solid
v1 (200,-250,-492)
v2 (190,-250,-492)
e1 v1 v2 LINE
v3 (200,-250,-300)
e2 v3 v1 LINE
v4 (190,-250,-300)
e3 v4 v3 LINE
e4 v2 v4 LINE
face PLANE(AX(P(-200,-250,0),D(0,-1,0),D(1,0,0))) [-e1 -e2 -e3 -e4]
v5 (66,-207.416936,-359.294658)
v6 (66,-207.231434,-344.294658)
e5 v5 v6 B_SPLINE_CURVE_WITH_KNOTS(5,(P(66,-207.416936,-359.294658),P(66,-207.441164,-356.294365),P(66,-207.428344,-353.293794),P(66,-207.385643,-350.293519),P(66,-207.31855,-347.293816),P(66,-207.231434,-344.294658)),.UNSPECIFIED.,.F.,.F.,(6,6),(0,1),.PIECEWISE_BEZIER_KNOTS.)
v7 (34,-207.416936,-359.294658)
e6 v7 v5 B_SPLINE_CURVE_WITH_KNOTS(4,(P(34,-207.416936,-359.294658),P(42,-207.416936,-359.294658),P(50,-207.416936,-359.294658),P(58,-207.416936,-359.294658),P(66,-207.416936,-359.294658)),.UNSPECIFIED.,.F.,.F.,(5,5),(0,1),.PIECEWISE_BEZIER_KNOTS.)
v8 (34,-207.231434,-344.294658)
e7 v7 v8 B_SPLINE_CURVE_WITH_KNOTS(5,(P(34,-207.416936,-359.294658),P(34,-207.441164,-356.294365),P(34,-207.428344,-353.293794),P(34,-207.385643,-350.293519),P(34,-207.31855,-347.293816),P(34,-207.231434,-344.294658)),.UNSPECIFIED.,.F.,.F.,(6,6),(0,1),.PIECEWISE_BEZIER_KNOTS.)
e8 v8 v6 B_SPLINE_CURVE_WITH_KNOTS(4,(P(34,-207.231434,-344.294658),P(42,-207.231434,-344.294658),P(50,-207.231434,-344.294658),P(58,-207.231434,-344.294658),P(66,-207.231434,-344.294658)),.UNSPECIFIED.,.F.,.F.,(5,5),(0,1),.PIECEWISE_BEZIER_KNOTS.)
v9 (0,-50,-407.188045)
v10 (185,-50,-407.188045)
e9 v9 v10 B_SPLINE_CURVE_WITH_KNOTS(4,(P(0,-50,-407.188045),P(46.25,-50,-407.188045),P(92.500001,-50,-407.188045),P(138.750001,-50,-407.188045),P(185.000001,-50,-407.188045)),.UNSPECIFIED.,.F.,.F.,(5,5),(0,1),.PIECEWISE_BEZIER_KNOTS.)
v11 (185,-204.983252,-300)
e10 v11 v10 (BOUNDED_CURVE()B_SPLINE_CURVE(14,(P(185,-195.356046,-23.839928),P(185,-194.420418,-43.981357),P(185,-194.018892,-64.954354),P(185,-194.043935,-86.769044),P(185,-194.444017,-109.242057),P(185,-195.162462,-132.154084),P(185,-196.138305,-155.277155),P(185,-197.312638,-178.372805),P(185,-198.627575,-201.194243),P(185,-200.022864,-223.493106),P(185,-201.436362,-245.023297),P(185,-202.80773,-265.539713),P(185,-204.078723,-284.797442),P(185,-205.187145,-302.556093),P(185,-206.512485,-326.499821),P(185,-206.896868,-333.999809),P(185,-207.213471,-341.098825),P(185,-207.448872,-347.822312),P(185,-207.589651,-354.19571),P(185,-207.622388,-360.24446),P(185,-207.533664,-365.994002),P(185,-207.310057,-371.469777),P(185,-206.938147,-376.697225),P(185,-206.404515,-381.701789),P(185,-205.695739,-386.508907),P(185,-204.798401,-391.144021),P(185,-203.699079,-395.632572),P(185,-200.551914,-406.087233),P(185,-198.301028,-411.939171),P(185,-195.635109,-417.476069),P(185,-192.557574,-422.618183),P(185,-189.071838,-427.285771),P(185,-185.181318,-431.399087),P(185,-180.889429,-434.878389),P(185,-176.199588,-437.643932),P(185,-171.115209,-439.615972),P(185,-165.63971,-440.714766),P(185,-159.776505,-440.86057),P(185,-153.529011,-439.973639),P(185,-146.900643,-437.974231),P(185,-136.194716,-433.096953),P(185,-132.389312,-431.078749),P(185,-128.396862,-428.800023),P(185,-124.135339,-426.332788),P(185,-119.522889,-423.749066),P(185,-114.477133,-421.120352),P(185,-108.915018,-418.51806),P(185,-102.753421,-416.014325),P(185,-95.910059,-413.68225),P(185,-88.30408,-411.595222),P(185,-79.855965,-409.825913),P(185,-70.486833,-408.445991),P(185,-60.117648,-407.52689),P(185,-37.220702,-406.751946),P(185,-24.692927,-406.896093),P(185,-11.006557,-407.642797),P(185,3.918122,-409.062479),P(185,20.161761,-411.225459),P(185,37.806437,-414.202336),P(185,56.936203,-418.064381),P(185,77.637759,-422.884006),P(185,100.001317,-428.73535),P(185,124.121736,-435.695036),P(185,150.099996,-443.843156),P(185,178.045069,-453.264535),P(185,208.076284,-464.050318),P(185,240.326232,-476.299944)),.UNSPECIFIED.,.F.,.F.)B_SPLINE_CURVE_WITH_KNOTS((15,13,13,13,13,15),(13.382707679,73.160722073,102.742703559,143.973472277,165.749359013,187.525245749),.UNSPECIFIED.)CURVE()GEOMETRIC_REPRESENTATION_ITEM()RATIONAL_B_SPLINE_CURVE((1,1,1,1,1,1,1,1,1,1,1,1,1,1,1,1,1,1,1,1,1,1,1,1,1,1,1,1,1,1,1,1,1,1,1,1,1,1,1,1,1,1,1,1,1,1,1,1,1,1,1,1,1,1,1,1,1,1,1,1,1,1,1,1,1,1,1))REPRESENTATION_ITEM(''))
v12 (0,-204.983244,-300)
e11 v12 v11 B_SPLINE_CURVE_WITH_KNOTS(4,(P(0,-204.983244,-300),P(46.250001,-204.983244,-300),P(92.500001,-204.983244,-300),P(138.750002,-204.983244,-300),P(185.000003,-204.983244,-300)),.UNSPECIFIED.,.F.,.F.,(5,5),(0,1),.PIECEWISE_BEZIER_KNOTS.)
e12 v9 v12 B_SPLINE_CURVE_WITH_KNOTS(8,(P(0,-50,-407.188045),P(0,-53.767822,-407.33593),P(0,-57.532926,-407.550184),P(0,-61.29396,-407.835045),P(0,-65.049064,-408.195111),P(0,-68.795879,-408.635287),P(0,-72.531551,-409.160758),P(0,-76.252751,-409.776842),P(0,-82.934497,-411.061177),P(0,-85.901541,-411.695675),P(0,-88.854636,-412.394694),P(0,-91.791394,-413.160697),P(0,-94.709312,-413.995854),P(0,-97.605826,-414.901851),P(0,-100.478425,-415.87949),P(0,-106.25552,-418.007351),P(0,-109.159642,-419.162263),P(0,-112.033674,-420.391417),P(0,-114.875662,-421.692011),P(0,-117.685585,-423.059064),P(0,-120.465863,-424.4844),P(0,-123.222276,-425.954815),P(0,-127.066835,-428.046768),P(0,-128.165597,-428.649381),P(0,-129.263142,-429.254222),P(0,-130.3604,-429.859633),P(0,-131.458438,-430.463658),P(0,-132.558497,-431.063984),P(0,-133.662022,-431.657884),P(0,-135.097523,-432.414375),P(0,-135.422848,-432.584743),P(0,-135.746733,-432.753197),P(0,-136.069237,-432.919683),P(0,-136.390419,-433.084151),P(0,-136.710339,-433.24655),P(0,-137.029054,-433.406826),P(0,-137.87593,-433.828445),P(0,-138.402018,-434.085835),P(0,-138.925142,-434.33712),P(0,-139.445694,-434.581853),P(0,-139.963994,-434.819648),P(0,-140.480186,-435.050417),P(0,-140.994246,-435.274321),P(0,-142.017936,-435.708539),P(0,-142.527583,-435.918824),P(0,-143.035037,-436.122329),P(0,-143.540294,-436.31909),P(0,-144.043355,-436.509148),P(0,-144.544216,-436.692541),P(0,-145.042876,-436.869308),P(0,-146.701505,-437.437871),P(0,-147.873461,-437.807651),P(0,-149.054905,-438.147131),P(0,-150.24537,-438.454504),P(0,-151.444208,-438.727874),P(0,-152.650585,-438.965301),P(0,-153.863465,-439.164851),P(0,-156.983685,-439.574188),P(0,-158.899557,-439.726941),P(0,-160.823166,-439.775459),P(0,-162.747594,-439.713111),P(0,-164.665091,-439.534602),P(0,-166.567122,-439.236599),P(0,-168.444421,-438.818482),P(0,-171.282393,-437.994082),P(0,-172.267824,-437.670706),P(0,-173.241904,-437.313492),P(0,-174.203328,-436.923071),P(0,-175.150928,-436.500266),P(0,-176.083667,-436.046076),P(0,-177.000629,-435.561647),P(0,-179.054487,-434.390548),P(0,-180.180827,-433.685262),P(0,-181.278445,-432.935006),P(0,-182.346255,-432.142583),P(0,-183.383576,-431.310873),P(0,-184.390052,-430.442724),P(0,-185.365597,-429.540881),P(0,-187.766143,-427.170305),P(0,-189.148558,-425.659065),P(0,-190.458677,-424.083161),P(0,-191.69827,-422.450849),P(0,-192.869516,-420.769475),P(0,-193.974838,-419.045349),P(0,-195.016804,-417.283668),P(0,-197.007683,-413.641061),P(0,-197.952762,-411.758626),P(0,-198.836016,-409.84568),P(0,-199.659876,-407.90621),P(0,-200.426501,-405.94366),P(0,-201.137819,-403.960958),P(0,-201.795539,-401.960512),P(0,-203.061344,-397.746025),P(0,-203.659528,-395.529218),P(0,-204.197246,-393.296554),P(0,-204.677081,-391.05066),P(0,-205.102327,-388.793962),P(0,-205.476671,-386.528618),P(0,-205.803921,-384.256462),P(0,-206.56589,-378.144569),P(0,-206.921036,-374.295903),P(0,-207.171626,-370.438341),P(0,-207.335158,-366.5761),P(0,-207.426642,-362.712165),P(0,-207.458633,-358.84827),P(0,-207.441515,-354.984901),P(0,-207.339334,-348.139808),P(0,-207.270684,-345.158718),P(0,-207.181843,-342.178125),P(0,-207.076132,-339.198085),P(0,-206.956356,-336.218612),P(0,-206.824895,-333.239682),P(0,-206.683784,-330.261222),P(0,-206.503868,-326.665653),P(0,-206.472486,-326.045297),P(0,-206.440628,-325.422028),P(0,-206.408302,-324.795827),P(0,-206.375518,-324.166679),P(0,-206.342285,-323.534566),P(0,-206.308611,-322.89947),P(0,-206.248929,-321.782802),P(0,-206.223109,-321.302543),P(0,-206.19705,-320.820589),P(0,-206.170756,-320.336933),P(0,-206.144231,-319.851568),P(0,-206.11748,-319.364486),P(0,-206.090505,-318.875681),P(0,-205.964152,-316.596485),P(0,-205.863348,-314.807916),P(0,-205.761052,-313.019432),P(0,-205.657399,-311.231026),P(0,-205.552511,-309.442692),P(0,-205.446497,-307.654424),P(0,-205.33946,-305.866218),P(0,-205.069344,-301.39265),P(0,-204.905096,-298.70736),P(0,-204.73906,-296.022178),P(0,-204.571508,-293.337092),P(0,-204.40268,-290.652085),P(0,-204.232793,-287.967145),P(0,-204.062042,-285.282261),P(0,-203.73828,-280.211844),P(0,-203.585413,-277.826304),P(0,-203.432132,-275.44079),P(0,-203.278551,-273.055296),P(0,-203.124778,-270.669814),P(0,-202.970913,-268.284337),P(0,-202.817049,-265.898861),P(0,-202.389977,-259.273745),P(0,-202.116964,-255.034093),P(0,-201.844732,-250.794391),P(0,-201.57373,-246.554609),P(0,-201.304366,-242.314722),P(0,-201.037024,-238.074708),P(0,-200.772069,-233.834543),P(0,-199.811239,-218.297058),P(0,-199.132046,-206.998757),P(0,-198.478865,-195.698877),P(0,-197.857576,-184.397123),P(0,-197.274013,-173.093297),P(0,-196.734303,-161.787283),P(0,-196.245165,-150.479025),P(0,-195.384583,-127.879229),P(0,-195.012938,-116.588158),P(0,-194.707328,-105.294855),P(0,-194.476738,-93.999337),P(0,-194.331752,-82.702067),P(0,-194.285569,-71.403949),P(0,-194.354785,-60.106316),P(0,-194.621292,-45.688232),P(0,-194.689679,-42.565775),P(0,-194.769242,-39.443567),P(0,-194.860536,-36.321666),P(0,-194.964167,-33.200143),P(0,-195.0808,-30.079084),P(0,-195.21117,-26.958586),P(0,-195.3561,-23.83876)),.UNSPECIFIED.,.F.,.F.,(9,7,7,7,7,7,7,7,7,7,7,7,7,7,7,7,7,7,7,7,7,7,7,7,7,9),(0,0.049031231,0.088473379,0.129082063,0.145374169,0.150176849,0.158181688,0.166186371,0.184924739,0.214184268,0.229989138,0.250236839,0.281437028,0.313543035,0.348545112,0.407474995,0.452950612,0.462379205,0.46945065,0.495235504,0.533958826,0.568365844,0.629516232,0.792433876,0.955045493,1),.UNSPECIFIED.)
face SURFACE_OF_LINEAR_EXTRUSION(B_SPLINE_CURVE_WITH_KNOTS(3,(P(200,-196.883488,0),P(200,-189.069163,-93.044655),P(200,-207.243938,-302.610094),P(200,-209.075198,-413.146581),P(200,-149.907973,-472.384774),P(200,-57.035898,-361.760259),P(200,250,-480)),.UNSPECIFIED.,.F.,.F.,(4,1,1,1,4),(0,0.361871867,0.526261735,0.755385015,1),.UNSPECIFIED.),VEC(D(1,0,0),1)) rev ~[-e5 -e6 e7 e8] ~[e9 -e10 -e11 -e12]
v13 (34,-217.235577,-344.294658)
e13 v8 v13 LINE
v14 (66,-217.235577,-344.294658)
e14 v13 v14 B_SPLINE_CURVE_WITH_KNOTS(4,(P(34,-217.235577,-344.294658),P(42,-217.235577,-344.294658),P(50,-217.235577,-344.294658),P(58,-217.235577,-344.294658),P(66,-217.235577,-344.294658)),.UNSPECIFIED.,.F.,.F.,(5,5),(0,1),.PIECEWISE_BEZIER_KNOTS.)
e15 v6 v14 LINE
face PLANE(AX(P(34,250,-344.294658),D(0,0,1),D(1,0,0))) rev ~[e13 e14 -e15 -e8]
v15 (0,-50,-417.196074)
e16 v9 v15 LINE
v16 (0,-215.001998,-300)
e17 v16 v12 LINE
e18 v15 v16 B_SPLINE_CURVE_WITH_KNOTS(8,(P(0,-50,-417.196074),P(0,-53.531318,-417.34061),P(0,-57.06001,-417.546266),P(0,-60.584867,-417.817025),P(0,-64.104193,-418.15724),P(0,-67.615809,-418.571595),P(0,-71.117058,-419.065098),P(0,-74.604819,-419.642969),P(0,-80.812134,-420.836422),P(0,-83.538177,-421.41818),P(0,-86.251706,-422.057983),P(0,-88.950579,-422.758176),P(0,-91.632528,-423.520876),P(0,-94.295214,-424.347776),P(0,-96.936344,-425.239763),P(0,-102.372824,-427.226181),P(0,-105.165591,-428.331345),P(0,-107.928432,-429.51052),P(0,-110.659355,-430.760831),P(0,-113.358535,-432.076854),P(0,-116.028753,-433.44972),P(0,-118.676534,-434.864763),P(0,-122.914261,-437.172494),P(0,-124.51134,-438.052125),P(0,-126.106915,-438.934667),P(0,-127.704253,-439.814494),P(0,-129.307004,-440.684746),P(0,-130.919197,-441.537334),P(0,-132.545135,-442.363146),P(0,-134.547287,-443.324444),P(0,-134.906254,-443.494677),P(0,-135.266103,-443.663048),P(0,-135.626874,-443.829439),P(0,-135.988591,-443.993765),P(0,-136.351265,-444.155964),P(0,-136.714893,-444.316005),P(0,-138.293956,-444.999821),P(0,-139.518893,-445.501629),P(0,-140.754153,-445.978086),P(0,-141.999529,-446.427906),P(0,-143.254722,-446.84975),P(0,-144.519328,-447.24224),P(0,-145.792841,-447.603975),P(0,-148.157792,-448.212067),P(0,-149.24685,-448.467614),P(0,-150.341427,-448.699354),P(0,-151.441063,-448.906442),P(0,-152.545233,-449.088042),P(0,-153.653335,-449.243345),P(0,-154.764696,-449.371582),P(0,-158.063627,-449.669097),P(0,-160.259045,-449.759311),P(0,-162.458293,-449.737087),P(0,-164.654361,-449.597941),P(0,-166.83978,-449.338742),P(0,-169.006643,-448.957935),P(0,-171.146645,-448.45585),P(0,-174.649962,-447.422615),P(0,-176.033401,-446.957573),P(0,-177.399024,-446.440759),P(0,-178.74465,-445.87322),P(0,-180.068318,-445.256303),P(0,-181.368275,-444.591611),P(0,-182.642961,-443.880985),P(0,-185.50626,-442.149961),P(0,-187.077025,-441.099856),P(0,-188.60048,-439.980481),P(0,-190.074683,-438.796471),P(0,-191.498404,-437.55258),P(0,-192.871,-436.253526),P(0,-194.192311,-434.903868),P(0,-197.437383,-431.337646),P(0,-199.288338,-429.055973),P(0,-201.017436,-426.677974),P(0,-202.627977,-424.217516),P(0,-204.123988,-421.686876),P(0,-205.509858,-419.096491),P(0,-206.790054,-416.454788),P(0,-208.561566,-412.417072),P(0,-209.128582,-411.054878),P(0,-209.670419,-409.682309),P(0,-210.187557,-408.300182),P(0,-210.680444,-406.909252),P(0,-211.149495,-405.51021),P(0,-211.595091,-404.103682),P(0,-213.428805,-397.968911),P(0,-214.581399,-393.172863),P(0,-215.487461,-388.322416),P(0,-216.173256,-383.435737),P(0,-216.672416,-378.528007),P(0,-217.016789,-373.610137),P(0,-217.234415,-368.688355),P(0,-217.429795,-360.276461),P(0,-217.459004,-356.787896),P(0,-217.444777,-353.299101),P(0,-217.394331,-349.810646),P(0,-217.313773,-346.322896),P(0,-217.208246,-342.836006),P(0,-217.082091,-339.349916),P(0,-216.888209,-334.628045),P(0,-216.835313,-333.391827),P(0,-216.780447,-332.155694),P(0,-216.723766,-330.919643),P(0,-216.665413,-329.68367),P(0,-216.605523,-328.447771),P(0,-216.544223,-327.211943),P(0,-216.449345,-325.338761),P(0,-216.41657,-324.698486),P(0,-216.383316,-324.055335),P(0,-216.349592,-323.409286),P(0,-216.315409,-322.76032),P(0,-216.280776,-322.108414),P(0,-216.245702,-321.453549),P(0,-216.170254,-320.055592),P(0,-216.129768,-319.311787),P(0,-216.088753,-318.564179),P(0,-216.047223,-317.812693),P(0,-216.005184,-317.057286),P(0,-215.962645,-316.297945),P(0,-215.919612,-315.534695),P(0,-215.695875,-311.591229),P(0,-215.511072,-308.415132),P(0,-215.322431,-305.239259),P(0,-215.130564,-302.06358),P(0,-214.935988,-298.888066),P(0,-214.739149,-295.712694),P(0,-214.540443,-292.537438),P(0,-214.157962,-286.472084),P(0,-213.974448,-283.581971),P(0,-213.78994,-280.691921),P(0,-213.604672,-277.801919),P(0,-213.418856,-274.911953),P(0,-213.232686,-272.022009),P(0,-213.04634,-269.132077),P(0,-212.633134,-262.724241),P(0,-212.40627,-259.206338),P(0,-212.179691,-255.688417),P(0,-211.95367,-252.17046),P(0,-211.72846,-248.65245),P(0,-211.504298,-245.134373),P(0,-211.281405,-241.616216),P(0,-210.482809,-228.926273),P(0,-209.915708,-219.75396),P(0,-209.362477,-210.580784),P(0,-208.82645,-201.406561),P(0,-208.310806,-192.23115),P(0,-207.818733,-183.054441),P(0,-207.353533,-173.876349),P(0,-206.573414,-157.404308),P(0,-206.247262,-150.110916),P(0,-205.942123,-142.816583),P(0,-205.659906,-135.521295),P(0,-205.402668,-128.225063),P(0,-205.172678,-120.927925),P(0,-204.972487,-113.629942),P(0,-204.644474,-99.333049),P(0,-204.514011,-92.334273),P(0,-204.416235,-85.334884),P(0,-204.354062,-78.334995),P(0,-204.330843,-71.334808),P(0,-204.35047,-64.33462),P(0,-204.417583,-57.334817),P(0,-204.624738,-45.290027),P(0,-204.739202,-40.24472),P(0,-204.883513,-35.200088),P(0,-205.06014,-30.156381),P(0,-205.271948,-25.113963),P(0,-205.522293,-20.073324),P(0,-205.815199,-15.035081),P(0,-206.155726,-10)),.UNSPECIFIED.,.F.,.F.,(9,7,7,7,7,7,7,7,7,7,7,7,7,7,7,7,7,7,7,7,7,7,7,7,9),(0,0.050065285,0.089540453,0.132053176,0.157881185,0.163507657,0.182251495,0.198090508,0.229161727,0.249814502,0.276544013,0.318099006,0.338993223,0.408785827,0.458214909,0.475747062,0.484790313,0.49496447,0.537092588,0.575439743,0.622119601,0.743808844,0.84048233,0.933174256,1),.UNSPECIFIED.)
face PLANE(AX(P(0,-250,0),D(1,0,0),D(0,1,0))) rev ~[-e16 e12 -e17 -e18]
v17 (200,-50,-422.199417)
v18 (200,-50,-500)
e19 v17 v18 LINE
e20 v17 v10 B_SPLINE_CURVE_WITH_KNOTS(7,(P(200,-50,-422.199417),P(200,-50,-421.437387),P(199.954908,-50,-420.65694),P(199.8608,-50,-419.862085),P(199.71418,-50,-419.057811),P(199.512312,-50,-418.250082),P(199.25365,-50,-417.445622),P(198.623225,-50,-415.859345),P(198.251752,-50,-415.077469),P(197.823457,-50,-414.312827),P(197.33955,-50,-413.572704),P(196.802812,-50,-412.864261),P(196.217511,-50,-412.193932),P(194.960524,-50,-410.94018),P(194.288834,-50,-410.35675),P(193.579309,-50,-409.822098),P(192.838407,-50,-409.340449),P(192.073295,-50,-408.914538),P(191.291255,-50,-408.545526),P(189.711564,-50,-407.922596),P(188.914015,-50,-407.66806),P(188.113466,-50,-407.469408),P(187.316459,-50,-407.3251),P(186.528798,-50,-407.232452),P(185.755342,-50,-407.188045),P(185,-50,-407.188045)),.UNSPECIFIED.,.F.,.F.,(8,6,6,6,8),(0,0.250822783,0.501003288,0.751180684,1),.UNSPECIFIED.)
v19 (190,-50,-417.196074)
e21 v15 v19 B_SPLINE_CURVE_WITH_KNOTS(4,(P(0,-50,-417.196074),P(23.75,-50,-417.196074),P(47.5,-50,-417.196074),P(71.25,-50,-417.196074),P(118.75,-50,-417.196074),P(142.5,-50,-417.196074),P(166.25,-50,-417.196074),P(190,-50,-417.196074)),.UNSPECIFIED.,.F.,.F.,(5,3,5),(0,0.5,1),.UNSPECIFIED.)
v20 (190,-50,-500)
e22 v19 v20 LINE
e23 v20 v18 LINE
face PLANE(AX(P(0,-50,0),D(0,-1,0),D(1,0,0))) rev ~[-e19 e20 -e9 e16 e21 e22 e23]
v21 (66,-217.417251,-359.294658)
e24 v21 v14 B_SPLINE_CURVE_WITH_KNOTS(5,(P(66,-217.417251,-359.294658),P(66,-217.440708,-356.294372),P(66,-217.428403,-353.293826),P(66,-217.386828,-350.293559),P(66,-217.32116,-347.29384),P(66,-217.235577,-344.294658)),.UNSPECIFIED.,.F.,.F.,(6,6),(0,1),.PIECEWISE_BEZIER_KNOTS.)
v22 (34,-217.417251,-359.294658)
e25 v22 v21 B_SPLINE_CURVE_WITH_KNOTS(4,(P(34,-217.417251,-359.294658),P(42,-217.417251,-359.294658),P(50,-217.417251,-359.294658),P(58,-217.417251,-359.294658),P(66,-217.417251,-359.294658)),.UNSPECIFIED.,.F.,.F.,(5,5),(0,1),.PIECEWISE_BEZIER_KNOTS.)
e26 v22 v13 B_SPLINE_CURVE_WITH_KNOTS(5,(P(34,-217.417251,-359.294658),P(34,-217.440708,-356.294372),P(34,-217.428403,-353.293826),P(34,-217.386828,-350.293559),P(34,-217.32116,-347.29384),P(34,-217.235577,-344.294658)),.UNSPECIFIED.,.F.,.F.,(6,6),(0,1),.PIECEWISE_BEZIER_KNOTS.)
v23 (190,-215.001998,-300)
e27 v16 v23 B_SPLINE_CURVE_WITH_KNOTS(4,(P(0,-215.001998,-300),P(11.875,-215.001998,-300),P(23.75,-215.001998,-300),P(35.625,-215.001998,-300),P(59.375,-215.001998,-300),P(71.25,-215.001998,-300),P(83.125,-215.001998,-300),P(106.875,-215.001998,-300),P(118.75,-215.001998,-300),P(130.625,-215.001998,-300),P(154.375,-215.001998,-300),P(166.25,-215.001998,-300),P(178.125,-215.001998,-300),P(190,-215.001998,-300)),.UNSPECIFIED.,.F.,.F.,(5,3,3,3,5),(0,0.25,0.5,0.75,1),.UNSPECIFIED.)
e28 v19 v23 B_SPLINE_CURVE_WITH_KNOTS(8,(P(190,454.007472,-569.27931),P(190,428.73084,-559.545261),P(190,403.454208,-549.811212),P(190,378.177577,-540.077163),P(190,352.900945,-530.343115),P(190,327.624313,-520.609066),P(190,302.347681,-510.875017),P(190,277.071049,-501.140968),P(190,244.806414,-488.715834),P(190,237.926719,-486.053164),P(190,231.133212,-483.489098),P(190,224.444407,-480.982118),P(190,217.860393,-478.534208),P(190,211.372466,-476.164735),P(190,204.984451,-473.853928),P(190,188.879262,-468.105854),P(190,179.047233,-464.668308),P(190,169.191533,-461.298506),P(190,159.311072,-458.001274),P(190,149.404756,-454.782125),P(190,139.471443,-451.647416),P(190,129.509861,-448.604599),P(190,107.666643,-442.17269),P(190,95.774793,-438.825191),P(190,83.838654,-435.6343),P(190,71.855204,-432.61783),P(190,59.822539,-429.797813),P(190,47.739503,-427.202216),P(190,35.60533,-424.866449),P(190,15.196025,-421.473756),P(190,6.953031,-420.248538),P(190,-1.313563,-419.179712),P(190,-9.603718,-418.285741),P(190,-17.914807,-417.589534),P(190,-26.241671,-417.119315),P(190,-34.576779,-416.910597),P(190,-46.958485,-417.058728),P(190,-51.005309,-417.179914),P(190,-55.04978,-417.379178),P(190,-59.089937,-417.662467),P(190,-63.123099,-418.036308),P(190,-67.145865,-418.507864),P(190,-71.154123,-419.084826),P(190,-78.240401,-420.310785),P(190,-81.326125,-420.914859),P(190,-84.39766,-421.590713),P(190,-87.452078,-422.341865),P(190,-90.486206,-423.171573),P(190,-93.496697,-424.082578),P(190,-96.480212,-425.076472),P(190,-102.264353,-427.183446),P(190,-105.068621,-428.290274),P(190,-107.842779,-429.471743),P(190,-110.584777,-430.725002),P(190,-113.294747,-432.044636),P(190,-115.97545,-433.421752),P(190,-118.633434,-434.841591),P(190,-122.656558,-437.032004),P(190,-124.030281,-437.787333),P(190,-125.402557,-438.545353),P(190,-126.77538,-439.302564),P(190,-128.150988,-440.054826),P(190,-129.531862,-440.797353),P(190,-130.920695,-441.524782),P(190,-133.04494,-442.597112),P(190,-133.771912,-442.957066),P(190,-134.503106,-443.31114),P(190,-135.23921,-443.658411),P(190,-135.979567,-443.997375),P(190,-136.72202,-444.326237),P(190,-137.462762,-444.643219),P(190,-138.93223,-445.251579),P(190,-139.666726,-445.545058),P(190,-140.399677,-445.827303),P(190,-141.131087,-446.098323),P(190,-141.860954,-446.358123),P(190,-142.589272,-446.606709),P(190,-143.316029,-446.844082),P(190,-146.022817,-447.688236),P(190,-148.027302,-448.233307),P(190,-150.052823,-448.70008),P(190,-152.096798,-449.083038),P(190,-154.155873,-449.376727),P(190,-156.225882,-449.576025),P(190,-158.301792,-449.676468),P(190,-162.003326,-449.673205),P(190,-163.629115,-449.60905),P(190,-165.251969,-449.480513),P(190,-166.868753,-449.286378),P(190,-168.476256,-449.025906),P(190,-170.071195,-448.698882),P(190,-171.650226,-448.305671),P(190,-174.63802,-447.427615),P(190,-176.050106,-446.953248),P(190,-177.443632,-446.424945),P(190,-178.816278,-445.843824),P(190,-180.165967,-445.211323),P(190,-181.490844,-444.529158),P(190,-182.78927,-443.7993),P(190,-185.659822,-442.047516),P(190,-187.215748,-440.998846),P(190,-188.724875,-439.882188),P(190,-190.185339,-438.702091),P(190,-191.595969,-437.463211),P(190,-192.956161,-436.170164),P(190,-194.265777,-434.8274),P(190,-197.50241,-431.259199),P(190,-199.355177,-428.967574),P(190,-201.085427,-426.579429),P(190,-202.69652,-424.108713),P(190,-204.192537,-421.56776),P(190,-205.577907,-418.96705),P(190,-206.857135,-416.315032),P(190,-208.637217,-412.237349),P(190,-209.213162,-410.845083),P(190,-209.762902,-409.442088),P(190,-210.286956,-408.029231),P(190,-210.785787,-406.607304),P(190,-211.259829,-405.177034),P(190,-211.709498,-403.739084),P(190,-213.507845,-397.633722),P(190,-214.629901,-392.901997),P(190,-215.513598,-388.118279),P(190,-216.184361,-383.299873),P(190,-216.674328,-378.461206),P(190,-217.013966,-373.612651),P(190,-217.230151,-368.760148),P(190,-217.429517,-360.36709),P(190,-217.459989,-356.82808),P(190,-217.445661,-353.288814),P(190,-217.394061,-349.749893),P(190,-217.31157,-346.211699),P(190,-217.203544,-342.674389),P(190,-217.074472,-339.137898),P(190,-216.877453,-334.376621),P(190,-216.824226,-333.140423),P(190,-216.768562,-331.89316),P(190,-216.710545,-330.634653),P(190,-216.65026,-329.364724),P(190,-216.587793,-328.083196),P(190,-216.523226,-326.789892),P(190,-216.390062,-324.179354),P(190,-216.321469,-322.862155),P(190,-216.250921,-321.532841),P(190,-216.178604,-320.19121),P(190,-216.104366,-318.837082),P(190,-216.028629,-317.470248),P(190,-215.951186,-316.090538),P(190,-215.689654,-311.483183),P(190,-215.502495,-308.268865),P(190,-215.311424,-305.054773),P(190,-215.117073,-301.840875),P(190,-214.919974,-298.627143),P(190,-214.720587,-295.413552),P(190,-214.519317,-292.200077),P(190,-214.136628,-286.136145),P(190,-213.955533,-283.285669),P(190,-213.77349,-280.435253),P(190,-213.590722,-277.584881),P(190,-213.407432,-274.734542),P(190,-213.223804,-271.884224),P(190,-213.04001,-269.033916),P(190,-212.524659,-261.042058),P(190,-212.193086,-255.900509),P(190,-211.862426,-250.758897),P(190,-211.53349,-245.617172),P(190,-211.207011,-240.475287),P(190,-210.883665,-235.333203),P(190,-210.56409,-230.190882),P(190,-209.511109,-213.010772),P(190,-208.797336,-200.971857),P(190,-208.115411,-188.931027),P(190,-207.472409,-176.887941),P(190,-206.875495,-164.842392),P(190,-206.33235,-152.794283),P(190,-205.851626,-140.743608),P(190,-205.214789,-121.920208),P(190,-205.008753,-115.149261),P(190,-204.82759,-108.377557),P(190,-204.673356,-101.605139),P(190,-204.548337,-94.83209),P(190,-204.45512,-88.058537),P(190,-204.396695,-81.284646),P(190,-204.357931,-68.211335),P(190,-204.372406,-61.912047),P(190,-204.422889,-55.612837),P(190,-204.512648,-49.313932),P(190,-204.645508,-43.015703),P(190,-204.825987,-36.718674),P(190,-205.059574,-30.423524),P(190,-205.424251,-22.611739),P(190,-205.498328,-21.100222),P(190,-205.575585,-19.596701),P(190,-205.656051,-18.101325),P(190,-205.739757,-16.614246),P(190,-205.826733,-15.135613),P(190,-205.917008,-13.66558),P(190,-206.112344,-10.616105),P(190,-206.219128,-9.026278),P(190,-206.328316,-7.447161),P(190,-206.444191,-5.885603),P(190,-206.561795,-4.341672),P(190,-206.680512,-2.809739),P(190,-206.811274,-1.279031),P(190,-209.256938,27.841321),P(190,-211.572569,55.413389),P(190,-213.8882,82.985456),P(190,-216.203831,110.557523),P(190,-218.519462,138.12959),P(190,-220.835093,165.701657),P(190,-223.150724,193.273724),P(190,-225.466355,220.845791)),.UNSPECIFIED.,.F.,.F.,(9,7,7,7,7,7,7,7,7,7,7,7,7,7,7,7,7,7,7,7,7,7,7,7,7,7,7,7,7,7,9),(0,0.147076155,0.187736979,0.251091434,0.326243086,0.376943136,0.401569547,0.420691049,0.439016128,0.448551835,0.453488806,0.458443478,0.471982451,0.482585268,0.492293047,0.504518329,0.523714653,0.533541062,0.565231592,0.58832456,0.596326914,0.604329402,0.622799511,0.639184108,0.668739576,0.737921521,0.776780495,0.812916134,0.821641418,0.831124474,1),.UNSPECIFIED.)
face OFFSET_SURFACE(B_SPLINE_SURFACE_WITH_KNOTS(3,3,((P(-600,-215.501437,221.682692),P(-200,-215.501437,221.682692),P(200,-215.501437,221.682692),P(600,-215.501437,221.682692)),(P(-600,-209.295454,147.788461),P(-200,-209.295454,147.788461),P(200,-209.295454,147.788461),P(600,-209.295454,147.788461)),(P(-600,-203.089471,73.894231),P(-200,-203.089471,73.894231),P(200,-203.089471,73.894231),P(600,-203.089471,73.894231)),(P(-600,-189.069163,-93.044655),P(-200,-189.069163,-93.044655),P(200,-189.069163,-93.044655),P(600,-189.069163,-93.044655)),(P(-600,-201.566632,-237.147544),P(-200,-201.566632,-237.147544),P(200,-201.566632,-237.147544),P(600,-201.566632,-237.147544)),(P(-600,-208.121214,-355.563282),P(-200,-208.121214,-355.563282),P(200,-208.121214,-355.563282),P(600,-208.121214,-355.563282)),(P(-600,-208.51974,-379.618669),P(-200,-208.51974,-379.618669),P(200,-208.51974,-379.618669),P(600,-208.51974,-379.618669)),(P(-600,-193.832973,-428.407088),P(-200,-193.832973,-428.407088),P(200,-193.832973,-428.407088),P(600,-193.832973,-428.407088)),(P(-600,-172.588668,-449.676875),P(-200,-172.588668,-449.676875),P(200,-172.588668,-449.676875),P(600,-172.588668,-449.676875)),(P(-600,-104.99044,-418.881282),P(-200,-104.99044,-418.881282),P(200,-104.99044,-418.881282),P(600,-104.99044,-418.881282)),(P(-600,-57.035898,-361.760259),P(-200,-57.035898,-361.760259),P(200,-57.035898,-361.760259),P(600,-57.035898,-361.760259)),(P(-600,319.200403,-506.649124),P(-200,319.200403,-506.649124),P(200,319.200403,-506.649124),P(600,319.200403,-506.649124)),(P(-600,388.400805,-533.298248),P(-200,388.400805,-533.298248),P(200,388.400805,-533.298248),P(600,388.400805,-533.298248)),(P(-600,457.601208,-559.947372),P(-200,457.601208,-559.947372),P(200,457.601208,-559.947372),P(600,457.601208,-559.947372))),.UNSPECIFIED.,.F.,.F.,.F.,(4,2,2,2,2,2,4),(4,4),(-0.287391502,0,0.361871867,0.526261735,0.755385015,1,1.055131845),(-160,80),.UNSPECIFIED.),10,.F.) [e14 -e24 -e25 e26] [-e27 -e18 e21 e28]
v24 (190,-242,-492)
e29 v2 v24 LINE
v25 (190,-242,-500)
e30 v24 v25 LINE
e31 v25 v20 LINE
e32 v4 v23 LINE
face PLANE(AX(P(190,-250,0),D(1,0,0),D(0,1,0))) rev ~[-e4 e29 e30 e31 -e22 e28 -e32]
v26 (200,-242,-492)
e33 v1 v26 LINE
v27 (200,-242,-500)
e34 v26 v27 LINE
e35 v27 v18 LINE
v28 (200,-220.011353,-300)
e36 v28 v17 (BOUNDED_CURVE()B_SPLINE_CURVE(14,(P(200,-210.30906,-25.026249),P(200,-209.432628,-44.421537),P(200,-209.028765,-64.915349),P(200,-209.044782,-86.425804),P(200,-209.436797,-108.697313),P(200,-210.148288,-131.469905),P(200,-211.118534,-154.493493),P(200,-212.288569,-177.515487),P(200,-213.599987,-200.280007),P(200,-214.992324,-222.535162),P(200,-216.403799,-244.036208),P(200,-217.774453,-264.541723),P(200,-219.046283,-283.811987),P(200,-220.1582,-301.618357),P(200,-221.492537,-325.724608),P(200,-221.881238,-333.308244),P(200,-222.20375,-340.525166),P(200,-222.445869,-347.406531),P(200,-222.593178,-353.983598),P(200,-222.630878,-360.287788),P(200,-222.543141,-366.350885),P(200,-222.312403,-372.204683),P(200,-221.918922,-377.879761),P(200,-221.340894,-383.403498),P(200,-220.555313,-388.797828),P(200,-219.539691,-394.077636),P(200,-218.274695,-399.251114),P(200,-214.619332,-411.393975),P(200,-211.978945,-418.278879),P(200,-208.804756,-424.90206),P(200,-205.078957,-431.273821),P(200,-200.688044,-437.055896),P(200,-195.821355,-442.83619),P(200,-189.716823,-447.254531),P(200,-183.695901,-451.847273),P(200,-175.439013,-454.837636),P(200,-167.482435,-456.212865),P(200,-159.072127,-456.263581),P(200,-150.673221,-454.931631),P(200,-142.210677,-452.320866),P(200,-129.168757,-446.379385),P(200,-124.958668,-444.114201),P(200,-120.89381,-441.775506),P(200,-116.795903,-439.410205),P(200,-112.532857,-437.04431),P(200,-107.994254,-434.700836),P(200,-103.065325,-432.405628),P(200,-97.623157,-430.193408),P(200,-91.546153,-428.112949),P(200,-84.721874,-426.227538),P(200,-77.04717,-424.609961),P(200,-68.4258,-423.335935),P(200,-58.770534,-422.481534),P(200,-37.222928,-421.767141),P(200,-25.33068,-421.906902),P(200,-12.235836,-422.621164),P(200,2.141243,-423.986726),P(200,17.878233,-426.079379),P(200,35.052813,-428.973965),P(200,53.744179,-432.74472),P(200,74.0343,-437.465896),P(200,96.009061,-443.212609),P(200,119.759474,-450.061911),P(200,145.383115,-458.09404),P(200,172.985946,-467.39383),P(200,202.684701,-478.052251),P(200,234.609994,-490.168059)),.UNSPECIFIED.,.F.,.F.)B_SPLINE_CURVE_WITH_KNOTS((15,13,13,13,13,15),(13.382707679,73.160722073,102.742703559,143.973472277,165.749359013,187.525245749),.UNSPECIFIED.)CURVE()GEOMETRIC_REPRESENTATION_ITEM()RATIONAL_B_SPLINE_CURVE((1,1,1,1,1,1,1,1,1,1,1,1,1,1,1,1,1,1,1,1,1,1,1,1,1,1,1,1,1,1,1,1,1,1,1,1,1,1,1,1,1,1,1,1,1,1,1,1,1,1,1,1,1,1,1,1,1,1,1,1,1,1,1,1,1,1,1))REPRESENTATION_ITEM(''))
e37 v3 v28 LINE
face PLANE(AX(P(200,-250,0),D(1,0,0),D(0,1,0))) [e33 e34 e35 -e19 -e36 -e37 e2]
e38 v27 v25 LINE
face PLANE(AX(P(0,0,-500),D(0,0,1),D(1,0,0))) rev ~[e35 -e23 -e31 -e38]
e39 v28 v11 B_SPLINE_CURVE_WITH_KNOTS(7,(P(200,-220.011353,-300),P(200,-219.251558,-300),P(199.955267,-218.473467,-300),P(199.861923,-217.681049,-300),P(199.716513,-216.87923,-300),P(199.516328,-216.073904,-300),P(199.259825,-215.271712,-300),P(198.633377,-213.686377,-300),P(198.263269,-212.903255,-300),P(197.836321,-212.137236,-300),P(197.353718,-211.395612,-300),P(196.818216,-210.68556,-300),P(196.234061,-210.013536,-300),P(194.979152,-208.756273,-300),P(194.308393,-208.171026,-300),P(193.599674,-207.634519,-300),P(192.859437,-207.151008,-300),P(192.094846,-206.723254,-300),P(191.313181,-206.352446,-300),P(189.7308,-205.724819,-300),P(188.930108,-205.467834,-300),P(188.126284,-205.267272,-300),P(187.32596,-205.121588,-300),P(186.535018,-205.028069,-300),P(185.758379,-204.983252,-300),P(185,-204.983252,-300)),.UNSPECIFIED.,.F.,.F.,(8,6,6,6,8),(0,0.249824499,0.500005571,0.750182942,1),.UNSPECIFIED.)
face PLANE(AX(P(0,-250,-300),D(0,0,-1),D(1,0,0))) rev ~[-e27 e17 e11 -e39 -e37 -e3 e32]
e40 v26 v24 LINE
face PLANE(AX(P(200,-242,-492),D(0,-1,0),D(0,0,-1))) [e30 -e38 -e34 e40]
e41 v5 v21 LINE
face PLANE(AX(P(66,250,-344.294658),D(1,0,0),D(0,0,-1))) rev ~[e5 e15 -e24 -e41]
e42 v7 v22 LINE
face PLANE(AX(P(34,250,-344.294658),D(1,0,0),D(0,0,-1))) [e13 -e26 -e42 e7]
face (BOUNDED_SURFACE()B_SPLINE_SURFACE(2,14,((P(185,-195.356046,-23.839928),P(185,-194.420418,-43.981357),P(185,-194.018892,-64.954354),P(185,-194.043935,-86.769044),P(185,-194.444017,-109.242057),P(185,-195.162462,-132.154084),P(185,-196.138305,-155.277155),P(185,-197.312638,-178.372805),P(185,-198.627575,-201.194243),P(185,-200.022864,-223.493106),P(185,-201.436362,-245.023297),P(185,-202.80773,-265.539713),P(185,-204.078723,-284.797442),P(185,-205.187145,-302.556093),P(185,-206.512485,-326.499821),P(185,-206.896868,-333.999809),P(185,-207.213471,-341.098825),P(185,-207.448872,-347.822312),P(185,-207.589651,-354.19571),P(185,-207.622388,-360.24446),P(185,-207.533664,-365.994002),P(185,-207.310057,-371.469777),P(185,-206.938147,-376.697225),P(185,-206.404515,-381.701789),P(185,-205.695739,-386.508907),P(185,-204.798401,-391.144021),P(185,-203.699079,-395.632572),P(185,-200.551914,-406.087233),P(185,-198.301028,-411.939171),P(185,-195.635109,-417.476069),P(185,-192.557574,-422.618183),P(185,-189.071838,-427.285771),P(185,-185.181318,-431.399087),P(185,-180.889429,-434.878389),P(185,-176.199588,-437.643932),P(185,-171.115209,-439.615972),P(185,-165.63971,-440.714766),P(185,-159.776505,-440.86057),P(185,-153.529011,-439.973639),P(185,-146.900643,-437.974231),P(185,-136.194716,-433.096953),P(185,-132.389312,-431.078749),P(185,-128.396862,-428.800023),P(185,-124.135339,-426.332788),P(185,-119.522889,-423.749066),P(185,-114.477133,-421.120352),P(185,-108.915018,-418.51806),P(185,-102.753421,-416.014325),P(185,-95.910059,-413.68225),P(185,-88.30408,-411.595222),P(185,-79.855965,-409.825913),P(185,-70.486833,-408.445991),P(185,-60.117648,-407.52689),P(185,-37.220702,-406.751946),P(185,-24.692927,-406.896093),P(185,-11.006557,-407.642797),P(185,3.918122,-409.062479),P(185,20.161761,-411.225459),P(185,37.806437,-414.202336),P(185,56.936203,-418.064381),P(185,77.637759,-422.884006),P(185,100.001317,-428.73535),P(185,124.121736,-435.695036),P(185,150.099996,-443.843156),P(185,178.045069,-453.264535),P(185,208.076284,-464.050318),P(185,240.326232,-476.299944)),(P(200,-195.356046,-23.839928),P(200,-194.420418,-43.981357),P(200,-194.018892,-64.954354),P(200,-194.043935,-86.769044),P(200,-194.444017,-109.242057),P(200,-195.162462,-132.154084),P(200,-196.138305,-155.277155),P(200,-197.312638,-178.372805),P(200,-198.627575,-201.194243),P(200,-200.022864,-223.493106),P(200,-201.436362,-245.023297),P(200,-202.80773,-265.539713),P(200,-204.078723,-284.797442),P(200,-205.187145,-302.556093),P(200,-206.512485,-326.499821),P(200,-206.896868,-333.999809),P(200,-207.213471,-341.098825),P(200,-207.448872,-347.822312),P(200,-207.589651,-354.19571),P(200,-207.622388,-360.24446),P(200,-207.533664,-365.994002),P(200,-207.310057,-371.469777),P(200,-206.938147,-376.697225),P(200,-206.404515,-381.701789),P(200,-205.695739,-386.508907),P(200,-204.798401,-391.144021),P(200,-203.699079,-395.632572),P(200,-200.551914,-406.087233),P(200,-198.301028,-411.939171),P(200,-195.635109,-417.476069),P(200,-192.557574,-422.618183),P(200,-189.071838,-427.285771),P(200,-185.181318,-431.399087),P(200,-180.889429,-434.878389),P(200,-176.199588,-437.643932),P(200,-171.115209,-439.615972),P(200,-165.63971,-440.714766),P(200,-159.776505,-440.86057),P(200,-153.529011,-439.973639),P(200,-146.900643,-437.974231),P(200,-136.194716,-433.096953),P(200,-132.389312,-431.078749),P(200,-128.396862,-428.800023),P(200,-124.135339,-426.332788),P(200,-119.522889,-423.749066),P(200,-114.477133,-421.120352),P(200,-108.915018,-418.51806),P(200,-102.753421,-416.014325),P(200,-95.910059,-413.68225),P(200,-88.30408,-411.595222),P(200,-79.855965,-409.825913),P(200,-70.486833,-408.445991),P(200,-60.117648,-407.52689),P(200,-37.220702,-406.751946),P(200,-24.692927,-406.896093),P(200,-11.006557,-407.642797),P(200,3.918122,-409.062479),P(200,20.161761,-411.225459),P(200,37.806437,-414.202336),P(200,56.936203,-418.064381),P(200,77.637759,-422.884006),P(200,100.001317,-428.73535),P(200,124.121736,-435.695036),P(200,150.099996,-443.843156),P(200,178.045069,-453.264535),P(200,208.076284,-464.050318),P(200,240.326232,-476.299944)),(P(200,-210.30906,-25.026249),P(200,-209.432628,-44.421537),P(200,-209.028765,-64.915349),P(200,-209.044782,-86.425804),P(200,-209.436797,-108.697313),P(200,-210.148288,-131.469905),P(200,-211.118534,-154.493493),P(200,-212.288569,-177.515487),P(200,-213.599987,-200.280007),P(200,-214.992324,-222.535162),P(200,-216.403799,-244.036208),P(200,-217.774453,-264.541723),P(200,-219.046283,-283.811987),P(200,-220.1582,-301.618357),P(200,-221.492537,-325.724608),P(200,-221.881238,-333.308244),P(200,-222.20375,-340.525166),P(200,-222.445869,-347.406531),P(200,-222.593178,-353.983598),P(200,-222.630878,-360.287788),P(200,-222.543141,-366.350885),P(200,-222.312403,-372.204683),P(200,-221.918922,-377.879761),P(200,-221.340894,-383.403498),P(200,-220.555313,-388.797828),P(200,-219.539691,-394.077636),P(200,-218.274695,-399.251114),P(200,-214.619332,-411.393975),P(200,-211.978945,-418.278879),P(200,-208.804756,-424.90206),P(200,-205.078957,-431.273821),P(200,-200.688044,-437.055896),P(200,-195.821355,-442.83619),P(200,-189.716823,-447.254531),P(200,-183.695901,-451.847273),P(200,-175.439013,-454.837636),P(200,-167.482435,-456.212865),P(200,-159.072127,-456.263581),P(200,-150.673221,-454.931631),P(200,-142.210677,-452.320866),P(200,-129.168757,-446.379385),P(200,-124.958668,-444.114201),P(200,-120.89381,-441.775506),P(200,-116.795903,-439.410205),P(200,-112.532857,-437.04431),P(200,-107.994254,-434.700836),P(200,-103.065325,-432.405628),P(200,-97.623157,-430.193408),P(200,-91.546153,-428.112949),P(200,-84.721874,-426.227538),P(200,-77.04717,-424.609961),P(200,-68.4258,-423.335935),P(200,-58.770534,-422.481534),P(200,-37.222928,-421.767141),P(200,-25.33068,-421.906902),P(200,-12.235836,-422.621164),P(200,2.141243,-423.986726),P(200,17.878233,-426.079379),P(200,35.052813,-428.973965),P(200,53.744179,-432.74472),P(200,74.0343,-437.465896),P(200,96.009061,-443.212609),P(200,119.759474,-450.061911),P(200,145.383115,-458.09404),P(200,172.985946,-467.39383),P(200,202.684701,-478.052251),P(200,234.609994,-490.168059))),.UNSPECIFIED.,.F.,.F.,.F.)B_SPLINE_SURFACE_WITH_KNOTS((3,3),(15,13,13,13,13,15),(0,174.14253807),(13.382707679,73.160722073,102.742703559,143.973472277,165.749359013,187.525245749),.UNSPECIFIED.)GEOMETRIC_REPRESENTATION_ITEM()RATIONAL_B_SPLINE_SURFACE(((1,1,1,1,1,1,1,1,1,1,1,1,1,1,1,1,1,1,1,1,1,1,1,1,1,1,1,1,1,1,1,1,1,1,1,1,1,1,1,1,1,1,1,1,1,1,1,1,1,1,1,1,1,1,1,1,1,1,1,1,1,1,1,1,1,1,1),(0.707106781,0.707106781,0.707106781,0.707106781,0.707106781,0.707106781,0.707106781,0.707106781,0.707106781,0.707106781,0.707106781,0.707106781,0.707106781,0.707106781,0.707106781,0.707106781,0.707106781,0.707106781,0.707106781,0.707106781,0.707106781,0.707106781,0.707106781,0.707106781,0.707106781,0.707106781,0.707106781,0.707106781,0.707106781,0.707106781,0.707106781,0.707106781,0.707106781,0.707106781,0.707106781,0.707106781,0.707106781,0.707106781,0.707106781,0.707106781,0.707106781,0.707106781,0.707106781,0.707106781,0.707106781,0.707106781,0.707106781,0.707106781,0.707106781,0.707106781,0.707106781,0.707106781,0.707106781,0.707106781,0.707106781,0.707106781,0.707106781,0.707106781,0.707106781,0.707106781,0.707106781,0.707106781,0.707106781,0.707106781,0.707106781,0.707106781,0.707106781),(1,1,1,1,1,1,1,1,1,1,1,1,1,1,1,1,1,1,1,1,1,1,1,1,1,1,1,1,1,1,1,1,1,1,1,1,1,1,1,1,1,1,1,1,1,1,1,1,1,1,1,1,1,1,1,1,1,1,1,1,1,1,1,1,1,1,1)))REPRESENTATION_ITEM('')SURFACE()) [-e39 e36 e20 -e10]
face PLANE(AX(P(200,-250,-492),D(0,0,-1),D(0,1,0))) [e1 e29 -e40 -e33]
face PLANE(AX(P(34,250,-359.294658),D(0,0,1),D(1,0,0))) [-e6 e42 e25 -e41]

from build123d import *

# Parameters (mm, degrees)
SKETCH_1_W           = 80
SKETCH_1_H           = 100
EXTRUDE_1_DEPTH      = 100
SKETCH_2_W           = 80
SKETCH_2_H           = 85
CUT_EXTRUDE_1_DEPTH  = 90
CUT_EXTRUDE_5_DEPTH  = 138.477270849
SHELL_2_T            = -2
FILLET_1_R           = 3
FILLET_2_R           = 5
FILLET_3_R           = 3
SKETCH_6_W           = 3.8
SKETCH_6_H           = 2.5
CUT_EXTRUDE_6_DEPTH  = 85
SKETCH_8_W           = 6.4
SKETCH_8_H           = 3
CUT_EXTRUDE_7_DEPTH  = 100
SKETCH_11_W          = 2
SKETCH_11_H          = 1
CUT_EXTRUDE_8_DEPTH  = 119.74342103
SCALE_1_SCALE        = 5
SKETCH_12_W          = 400
SKETCH_12_H          = 300
SKETCH_12_W_2        = 185
SKETCH_12_H_2        = 29.670884313
CUT_EXTRUDE_11_DEPTH = 594.717104512
SKETCH_14_W          = 200
SKETCH_14_H          = 300
CUT_EXTRUDE_12_DEPTH = 575.45626481
SKETCH_15_W          = 8
SKETCH_15_H          = 8
CUT_EXTRUDE_13_DEPTH = 10


with BuildPart() as part:
    # 스케치1 → 보스-돌출1 (new body)
    with BuildSketch(Plane.XY):
        Rectangle(SKETCH_1_W, SKETCH_1_H)
    extrude(amount=-EXTRUDE_1_DEPTH)

    # 스케치2 → 컷-돌출1 (cut)
    with BuildSketch(Plane(origin=(40, 0, 0), x_dir=(0, 0, -1), z_dir=(1, 0, 0))):
        with Locations((40, 7.5)):
            Rectangle(SKETCH_2_W, SKETCH_2_H)
    extrude(amount=-CUT_EXTRUDE_1_DEPTH, mode=Mode.SUBTRACT)

    # 스케치5 → 컷-돌출5 (cut, through all)
    with BuildSketch(Plane(origin=(40, 0, 0), x_dir=(0, 0, -1), z_dir=(1, 0, 0))):
        with BuildLine():
            add(Edge.make_bspline(
                [(0, -39.376697629), (18.60893103, -37.813832642), (60.522018707, -41.448787519), (82.629316251, -41.815039561), (94.476954899, -29.981594577), (72.35205171, -11.407179683), (96, 50)],
                knots=[0, 0, 0, 0, 0.361871867, 0.526261735, 0.755385015, 1, 1, 1, 1], degree=3))
            Line((96, 50), (80, 50))
            Line((80, 50), (80, -35))
            Line((80, -35), (0, -35))
            Line((0, -35), (0, -39.376697629))
        make_face()
    extrude(amount=-CUT_EXTRUDE_5_DEPTH, mode=Mode.SUBTRACT)

    # 쉘2
    shell_2_openings = [part.faces().sort_by_distance(p)[0] for p in [
        (0, 0, -100),
        (0, -50, -50),
    ]]
    offset(amount=SHELL_2_T, openings=shell_2_openings, kind=Kind.INTERSECTION)

    # 필렛1
    fillet_1_edges = [part.edges().sort_by_distance(p)[0] for p in [
        (0, 50, -96),
    ]]
    fillet(fillet_1_edges, radius=FILLET_1_R)

    # 필렛2
    fillet_2_edges = [part.edges().sort_by_distance(p)[0] for p in [
        (0, -39.376697629, 0),
    ]]
    fillet(fillet_2_edges, radius=FILLET_2_R)

    # 필렛3
    fillet_3_edges = [part.edges().sort_by_distance(p)[0] for p in [
        (40, -47.032911569, 0),
        (40, 49.469386486, -96.360930071),
        (-40, 49.469386486, -96.360930071),
        (40, -34.292790316, -87.583679146),
        (-40, -34.292790311, -87.583679133),
        (40, -40.61329303, -1.383366779),
        (-40, -47.032911569, 0),
        (-40, -40.61329303, -1.383366779),
        (-40, 50, -99.032247048),
        (40, 50, -99.032247048),
    ]]
    fillet(fillet_3_edges, radius=FILLET_3_R)

    # 스케치6 → 컷-돌출6 (cut)
    with BuildSketch(Plane(origin=(0, 0, -100), x_dir=(-1, 0, 0), z_dir=(0, 0, -1))):
        with Locations((-10, 10)):
            Rectangle(SKETCH_6_W, SKETCH_6_H)
        with Locations((10, 10)):
            Rectangle(SKETCH_6_W, SKETCH_6_H)
    extrude(amount=-CUT_EXTRUDE_6_DEPTH, mode=Mode.SUBTRACT)

    # 스케치8 → 컷-돌출7 (cut)
    with BuildSketch(Plane(origin=(0, 50, 0), x_dir=(1, 0, 0), z_dir=(0, 1, 0))):
        with Locations((-10, 70.358931696)):
            Rectangle(SKETCH_8_W, SKETCH_8_H)
        with Locations((10, 70.358931696)):
            Rectangle(SKETCH_8_W, SKETCH_8_H)
    extrude(amount=-CUT_EXTRUDE_7_DEPTH, mode=Mode.SUBTRACT)

    # 스케치11 → 컷-돌출8 (cut, through all)
    with BuildSketch(Plane(origin=(0, 0, -100), x_dir=(-1, 0, 0), z_dir=(0, 0, -1))):
        with Locations((-10, 3.626900341)):
            Rectangle(SKETCH_11_W, SKETCH_11_H)
        with Locations((10, 3.626900341)):
            Rectangle(SKETCH_11_W, SKETCH_11_H)
    extrude(amount=-CUT_EXTRUDE_8_DEPTH, mode=Mode.SUBTRACT)


with BuildPart() as part_1:
    # 축척1: scaled about (0, 0, 0)
    add(part.part.scale(SCALE_1_SCALE))

    # 스케치12 → 컷-돌출11 (cut, through all)
    with BuildSketch(Plane.XY):
        with Locations((0, 100)):
            Rectangle(SKETCH_12_W, SKETCH_12_H)
        Polygon((0, -50), (-200, -50), (-200, -250), (-185, -250), (-185, -220.329115687), (0, -220.329115687), align=None)
        with Locations((-92.5, -235.164557844)):
            Rectangle(SKETCH_12_W_2, SKETCH_12_H_2)
    extrude(amount=-CUT_EXTRUDE_11_DEPTH, mode=Mode.SUBTRACT)

    # 스케치14 → 컷-돌출12 (cut, through all)
    with BuildSketch(Plane.XZ.offset(250)):
        with Locations((100, -150)):
            Rectangle(SKETCH_14_W, SKETCH_14_H)
    extrude(amount=-CUT_EXTRUDE_12_DEPTH, mode=Mode.SUBTRACT)

    # 스케치15 → 컷-돌출13 (cut)
    with BuildSketch(Plane(origin=(200, 0, 0), x_dir=(0, 0, -1), z_dir=(1, 0, 0))):
        with Locations((496, -246)):
            Rectangle(SKETCH_15_W, SKETCH_15_H)
    extrude(amount=-CUT_EXTRUDE_13_DEPTH, mode=Mode.SUBTRACT)


solid = part_1.part
